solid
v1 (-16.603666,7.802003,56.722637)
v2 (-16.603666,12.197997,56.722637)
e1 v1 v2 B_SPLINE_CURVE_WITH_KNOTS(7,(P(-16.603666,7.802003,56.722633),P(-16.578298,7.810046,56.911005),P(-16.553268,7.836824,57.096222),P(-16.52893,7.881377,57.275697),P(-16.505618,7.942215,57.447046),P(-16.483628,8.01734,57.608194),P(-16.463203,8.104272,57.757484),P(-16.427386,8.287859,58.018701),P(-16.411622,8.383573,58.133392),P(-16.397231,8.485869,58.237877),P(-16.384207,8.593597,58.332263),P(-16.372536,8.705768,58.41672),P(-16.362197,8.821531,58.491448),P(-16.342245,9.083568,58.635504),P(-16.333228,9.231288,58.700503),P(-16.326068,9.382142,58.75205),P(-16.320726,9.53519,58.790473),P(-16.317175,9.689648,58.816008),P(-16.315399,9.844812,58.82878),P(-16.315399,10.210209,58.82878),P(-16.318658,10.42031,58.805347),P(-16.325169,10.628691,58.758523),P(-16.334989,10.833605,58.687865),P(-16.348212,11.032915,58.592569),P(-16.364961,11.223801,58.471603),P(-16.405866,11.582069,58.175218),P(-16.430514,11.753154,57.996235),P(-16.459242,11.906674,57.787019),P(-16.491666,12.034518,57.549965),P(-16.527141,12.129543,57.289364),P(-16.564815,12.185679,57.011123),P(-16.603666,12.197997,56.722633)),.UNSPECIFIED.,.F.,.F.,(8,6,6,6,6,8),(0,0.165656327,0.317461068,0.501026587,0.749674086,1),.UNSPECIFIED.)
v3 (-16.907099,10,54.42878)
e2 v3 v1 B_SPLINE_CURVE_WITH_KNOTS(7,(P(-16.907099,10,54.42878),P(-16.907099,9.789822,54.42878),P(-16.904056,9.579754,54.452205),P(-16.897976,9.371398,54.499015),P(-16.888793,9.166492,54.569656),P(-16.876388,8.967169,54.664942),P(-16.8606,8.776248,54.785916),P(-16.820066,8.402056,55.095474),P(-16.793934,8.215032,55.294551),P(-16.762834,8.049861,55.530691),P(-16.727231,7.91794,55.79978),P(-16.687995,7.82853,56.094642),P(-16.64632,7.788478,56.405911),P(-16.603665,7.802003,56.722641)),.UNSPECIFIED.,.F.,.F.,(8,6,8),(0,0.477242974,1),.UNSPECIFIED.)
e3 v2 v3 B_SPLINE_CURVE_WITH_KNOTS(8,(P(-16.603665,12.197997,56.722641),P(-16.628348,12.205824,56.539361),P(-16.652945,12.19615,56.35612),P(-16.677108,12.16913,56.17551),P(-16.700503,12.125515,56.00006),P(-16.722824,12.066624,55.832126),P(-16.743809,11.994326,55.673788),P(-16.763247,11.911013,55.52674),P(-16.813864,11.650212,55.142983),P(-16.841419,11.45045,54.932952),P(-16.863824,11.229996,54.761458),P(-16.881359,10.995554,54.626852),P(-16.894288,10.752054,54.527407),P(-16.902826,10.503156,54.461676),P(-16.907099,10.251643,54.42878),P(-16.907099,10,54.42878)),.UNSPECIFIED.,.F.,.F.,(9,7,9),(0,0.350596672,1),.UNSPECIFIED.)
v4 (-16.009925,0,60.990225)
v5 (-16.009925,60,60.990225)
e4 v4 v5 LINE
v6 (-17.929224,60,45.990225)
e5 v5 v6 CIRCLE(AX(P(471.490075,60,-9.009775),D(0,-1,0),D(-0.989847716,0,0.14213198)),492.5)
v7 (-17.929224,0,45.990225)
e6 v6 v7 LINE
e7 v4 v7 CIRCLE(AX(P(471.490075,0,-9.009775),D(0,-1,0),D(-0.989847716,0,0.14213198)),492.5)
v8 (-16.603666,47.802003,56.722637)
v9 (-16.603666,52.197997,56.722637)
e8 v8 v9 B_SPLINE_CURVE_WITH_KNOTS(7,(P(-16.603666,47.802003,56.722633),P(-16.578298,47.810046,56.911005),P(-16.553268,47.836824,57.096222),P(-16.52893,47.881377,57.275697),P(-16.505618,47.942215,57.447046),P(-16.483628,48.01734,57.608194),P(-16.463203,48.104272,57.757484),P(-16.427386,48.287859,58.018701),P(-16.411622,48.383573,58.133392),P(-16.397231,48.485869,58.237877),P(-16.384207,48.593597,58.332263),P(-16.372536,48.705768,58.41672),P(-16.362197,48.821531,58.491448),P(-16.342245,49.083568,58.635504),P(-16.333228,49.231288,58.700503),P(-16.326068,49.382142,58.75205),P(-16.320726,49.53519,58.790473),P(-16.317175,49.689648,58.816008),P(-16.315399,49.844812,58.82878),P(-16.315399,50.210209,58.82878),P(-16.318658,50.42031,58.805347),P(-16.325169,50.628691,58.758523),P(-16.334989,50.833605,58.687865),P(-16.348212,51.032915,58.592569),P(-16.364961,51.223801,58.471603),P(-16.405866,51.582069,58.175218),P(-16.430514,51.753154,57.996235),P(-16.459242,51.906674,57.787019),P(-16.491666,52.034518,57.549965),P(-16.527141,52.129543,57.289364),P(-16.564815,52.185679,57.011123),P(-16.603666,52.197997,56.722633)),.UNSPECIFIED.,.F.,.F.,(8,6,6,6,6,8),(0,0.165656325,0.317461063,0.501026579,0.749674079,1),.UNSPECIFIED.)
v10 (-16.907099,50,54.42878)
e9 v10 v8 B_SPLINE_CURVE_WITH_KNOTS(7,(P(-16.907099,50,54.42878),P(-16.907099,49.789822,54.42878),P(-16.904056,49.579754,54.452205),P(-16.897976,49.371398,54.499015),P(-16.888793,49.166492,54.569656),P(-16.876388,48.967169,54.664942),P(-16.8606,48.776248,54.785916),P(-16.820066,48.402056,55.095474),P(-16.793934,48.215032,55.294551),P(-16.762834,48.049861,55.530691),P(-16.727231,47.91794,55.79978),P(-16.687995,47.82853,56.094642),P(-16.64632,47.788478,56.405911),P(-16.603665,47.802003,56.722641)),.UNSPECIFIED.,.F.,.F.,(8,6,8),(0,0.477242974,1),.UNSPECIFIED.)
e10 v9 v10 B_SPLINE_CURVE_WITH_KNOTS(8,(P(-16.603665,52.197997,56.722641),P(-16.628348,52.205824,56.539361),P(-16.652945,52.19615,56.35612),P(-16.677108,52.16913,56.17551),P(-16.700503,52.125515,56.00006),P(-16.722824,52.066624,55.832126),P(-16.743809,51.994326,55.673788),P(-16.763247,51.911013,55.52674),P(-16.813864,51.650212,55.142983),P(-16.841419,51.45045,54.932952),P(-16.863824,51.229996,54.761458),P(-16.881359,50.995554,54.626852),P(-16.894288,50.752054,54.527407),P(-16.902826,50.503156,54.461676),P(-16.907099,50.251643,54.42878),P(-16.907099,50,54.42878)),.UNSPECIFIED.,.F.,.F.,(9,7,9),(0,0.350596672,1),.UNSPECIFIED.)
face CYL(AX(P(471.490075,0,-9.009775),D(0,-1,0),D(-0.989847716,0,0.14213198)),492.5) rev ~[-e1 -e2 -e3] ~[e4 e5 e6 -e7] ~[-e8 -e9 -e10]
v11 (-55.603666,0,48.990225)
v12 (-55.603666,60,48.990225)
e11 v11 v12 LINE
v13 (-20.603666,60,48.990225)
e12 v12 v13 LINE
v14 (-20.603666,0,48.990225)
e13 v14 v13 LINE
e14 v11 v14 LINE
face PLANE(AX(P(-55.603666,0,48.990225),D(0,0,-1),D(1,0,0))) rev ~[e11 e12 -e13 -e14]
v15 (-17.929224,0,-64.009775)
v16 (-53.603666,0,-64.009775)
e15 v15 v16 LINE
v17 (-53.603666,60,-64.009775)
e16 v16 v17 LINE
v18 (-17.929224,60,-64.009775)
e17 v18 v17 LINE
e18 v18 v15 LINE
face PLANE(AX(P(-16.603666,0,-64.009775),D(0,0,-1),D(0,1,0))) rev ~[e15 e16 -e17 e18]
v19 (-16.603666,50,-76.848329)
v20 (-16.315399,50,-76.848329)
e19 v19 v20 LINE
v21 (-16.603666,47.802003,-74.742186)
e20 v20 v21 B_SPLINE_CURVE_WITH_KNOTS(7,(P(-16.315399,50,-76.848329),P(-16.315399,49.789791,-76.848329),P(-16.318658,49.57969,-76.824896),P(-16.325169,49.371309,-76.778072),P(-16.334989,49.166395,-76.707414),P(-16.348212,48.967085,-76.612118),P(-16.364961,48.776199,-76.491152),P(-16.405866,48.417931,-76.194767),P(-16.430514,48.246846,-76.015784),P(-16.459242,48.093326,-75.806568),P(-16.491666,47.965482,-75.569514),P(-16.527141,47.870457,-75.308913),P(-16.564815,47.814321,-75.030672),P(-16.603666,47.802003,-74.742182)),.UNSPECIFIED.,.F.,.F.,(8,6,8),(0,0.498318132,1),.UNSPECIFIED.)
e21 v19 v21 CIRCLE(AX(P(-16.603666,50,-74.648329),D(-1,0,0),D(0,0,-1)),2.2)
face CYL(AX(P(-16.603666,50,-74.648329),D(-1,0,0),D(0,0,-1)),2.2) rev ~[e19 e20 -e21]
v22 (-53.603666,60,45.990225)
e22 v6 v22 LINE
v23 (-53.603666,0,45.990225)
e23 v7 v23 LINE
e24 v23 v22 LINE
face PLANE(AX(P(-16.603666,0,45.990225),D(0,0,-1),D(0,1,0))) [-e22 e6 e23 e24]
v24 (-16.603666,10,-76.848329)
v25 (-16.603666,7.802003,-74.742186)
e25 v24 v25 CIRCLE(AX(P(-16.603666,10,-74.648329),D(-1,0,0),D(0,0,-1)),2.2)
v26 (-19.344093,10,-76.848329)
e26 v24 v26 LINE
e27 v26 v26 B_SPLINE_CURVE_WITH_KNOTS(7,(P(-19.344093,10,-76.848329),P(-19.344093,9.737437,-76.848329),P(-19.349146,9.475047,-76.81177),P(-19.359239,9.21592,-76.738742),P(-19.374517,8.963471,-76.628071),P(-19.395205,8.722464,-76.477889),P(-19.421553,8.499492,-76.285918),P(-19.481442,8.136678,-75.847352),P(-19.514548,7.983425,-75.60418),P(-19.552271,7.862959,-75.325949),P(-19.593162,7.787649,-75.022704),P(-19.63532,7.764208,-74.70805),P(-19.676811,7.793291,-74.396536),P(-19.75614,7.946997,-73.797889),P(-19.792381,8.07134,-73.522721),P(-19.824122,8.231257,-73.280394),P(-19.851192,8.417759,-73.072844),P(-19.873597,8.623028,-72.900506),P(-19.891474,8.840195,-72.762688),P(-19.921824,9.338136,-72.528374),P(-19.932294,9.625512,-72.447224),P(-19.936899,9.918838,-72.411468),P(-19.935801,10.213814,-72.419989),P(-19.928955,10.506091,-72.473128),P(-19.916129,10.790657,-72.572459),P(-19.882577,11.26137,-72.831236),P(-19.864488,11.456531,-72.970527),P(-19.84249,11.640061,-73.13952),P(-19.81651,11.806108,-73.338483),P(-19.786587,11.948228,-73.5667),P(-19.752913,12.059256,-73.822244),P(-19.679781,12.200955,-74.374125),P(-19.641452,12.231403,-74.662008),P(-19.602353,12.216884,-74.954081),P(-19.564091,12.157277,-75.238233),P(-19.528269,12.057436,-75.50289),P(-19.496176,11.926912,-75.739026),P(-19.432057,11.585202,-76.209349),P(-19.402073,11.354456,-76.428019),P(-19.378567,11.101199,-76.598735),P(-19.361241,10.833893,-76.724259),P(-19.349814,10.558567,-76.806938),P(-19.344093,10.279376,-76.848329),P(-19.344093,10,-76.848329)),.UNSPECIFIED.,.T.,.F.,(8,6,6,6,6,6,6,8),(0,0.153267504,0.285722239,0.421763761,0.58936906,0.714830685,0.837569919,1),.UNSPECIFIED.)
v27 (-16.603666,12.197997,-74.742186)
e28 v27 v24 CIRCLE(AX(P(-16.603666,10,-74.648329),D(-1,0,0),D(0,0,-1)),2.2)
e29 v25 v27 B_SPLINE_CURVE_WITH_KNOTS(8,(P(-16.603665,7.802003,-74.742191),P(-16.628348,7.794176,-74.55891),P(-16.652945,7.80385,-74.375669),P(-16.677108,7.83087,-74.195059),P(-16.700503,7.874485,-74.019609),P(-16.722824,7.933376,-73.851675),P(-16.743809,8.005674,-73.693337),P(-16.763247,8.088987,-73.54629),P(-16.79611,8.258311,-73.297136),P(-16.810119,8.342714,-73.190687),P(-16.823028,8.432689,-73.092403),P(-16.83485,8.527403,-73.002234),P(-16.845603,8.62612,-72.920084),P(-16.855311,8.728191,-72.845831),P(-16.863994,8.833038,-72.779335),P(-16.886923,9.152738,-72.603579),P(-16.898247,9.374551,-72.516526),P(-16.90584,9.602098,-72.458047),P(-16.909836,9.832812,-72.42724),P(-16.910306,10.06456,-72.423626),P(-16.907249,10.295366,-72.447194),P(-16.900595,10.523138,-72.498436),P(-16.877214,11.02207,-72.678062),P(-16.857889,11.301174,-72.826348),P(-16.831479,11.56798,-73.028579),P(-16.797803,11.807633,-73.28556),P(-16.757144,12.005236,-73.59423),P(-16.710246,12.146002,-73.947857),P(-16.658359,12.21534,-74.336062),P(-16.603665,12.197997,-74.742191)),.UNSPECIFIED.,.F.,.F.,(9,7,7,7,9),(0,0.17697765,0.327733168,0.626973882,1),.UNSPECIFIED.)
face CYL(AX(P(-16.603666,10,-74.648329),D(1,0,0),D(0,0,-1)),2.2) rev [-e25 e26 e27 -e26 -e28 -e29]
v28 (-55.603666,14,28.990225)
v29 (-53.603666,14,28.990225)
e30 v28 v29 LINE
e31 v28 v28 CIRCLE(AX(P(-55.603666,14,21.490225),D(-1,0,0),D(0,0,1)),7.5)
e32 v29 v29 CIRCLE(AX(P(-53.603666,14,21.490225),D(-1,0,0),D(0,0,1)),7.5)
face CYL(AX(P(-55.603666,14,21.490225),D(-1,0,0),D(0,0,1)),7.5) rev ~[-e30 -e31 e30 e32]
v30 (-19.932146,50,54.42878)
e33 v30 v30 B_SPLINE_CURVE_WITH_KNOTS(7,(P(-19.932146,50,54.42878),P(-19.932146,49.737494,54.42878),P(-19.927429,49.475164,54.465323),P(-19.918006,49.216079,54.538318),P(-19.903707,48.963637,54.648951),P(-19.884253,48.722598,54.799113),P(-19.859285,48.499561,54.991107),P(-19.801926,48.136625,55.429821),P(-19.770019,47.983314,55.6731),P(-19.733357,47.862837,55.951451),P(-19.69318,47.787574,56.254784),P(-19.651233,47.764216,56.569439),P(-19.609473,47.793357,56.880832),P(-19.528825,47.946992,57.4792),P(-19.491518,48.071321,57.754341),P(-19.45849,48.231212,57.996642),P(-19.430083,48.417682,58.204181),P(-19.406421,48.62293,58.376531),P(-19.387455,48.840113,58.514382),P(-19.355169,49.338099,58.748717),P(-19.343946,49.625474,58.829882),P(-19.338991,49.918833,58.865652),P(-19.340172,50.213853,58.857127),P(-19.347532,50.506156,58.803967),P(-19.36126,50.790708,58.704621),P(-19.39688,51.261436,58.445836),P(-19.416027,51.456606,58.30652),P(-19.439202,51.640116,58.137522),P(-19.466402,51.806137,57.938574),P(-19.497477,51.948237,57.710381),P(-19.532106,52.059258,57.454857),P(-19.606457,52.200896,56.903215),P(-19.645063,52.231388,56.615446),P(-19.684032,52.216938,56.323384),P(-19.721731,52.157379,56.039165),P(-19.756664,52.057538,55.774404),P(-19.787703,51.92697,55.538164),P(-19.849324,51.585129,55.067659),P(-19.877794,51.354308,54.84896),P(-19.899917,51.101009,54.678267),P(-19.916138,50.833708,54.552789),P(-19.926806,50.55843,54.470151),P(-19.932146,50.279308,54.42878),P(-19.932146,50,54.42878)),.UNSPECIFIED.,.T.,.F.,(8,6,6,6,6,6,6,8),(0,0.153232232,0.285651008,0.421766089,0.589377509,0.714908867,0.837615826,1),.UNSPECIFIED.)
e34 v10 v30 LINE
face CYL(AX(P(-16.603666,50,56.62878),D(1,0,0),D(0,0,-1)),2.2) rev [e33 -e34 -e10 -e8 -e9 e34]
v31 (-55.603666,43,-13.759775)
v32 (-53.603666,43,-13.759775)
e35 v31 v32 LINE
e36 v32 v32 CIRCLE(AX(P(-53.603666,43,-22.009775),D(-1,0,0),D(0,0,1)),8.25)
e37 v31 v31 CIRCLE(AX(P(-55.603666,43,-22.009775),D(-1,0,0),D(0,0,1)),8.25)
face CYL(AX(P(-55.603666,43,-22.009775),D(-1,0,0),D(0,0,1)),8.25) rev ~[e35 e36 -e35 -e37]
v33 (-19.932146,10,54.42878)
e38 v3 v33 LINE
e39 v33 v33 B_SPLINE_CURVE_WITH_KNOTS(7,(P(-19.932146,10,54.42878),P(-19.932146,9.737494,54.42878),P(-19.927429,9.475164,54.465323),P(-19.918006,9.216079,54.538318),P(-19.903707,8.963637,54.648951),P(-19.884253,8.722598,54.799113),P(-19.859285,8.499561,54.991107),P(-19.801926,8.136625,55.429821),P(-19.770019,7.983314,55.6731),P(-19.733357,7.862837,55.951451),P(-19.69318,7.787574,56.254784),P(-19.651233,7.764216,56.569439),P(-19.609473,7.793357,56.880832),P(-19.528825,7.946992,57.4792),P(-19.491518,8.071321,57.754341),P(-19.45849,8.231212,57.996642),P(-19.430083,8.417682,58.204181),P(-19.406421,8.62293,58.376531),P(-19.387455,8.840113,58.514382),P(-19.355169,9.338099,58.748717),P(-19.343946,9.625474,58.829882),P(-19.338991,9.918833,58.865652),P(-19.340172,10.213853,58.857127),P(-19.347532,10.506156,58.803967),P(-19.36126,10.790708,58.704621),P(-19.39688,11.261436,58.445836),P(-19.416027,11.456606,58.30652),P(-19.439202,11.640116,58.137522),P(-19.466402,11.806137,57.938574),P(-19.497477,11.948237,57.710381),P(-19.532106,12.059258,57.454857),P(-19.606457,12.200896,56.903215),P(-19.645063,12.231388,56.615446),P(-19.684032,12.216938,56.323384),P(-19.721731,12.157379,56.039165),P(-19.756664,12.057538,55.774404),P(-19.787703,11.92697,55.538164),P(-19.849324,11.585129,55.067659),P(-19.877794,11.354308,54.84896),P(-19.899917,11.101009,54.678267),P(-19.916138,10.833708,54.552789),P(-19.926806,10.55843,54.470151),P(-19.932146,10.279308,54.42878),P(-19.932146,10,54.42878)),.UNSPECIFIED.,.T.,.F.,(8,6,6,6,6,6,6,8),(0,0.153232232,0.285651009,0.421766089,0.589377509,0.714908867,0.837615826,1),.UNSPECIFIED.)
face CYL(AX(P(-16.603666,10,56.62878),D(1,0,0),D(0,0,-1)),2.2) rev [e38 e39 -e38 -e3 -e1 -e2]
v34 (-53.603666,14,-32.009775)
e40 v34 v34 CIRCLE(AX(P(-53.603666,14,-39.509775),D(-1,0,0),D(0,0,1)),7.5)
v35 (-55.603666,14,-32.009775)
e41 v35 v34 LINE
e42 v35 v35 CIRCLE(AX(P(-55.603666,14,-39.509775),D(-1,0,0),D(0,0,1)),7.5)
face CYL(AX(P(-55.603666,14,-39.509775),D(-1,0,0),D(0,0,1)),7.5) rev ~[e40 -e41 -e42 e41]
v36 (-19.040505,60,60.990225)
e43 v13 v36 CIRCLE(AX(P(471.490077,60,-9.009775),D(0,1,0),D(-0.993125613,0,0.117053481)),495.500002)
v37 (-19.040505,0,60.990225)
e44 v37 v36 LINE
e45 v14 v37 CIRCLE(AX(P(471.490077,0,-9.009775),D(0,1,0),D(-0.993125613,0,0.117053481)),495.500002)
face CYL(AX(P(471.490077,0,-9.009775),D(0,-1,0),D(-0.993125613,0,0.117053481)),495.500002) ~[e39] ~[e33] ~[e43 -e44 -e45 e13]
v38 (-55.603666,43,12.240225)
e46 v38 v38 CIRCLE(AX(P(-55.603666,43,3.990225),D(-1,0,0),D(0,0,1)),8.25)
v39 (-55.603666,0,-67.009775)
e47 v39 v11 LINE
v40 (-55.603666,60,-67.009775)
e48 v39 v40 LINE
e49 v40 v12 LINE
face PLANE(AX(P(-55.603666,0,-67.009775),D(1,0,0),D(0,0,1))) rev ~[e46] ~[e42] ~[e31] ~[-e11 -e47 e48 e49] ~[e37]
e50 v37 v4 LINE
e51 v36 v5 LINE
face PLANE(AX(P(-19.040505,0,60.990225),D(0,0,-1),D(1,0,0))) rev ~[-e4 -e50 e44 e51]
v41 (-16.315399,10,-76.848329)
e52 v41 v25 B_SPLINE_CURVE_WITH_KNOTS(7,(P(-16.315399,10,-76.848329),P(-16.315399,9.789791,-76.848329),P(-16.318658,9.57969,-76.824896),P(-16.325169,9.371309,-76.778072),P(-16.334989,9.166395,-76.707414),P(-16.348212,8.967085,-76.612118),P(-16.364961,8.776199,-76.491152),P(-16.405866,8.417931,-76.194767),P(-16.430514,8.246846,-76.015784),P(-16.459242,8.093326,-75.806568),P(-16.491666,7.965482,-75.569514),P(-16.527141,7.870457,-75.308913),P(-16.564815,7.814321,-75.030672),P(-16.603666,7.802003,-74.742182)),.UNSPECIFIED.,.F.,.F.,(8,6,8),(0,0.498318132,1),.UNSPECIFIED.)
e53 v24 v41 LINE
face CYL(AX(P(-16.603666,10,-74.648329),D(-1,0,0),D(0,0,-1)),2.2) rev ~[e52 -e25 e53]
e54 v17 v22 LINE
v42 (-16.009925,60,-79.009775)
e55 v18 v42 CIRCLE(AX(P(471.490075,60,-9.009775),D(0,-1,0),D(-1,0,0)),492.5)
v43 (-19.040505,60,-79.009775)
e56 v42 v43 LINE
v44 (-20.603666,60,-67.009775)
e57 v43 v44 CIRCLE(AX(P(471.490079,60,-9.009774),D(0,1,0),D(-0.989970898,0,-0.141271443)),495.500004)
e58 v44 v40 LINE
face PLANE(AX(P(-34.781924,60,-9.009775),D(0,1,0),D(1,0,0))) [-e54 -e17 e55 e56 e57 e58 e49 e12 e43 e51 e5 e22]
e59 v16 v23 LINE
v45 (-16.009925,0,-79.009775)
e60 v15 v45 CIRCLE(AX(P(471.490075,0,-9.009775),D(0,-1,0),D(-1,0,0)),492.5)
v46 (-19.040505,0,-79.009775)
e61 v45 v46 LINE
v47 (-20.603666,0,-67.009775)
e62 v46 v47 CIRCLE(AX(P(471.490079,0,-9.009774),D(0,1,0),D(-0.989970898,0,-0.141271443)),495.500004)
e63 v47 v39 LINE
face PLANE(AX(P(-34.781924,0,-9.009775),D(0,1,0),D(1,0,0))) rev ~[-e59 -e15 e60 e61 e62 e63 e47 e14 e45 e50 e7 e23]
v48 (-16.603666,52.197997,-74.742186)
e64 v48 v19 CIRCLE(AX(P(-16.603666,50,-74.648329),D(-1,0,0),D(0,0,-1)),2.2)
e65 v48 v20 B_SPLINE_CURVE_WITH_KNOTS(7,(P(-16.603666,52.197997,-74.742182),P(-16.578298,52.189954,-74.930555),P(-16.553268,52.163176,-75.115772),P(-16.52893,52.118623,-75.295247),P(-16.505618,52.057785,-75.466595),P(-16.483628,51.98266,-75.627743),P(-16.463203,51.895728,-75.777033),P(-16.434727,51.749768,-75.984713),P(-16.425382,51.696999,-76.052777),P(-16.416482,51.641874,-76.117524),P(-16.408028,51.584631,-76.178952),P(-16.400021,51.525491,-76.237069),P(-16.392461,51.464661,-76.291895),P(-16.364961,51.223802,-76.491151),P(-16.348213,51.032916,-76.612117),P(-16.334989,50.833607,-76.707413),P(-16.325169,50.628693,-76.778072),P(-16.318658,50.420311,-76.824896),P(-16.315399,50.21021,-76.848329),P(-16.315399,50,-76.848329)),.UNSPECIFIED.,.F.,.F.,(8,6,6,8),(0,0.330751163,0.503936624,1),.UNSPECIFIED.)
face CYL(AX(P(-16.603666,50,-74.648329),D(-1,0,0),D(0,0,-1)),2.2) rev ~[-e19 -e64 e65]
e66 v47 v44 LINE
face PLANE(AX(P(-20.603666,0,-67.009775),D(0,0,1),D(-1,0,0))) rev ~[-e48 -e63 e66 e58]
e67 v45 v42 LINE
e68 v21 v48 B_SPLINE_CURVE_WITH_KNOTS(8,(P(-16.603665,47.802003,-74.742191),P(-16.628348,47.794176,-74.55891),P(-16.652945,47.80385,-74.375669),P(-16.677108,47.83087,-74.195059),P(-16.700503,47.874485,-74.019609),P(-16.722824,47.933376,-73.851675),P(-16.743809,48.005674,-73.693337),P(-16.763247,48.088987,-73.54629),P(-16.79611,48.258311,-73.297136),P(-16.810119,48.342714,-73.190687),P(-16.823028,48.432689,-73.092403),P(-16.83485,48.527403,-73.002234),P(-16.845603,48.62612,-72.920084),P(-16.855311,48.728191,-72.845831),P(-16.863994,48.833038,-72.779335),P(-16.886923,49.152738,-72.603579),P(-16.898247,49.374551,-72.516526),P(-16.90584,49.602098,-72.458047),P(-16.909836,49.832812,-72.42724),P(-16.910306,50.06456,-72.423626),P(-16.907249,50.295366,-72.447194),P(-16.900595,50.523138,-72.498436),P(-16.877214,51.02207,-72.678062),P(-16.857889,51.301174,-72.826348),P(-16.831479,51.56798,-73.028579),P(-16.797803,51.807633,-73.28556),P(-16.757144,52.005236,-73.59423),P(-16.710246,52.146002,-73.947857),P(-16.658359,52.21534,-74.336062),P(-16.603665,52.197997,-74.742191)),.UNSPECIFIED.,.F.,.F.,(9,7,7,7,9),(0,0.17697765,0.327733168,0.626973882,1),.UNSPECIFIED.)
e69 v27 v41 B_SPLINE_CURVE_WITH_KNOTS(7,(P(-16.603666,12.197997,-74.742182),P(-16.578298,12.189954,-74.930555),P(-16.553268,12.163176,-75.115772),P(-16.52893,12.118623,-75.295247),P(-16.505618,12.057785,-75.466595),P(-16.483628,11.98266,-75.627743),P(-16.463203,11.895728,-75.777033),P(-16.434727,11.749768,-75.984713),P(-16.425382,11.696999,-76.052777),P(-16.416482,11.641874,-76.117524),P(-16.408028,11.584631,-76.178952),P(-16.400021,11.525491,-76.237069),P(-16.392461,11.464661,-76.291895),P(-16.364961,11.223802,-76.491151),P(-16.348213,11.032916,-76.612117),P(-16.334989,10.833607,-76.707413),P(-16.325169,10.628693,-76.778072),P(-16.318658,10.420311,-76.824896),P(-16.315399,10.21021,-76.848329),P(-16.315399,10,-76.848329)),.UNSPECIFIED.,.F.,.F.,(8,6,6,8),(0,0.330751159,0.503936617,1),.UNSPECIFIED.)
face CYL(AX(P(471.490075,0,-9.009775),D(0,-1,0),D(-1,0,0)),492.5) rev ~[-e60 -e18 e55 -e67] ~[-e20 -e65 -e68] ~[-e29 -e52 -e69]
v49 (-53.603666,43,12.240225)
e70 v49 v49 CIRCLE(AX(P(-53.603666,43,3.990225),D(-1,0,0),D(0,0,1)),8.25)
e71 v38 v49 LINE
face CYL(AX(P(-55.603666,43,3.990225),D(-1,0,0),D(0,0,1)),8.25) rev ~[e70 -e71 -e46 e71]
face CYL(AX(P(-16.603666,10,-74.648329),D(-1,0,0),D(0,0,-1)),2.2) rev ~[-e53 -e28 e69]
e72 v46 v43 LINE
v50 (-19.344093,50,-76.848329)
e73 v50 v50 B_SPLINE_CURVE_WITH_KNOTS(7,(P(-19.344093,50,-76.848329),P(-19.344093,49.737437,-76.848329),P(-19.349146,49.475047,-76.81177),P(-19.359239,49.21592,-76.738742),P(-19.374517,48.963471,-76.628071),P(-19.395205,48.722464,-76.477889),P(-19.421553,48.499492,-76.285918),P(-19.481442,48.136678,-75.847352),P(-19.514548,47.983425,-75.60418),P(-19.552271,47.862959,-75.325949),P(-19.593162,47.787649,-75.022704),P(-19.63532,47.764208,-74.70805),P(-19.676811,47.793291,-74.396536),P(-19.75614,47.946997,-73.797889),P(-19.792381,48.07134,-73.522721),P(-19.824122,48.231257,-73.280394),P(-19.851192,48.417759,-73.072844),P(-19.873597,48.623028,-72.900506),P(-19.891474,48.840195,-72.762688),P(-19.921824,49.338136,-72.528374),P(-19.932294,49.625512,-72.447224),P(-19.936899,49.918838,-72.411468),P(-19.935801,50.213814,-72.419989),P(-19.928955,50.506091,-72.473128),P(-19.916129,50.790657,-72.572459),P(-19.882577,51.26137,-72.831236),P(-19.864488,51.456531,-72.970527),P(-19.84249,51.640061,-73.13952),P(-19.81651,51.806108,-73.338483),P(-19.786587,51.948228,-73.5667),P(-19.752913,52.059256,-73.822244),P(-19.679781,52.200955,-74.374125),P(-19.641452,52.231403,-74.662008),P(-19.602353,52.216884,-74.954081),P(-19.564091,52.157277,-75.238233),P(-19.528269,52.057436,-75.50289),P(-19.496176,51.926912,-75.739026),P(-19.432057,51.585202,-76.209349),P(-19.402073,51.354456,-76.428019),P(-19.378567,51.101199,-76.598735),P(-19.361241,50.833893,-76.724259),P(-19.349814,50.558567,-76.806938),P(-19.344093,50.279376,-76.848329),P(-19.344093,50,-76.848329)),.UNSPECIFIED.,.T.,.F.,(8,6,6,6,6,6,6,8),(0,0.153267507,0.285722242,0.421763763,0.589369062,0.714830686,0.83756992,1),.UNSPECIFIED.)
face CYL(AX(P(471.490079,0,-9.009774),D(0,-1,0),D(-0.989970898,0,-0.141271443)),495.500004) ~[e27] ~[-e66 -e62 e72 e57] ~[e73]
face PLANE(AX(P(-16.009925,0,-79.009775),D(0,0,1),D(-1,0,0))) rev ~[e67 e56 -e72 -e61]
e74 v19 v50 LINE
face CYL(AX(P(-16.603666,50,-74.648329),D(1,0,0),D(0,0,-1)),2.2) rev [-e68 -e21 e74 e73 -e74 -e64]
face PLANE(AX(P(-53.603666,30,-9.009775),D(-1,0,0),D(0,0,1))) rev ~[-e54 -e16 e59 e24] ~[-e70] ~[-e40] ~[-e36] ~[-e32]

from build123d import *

# Parameters (mm, degrees)
EXTRUDE_1_DEPTH     = 60
SKETCH_3_W          = 110
SKETCH_3_H          = 60
CUT_EXTRUDE_1_DEPTH = 37
SKETCH_4_R          = 7.5
SKETCH_4_R_2        = 8.25
CUT_EXTRUDE_2_DEPTH = 5
SKETCH_7_R          = 2.2
CUT_EXTRUDE_3_DEPTH = 20
SKETCH_7_2_R        = 2.2
CUT_EXTRUDE_4_DEPTH = 9


with BuildPart() as part:
    # Sketch 2 → Extrude 1 (new body)
    with BuildSketch(Plane(origin=(0, 0, 0), x_dir=(1, 0, 0), z_dir=(0, 1, 0))):
        with BuildLine():
            Line((-19.040504883, -60.990225421), (-16.009924796, -60.990225421))
            ThreePointArc((-16.009924796, -60.990225421), (-19.758334463, -26.07939754), (-21.009924796, 9.009774579))
            ThreePointArc((-21.009924796, 9.009774579), (-19.758334463, 44.098946698), (-16.009924796, 79.009774579))
            Line((-16.009924796, 79.009774579), (-19.040504883, 79.009774579))
            ThreePointArc((-19.040504883, 79.009774579), (-19.858720594, 73.014546807), (-20.603665866, 67.009774579))
            Line((-20.603665866, 67.009774579), (-55.603665866, 67.009774579))
            Line((-55.603665866, 67.009774579), (-55.603665866, -48.990225421))
            Line((-55.603665866, -48.990225421), (-20.603665866, -48.990225421))
            ThreePointArc((-20.603665866, -48.990225421), (-19.858720594, -54.99499765), (-19.040504883, -60.990225421))
        make_face()
    extrude(amount=EXTRUDE_1_DEPTH)

    # Sketch 3 → Cut-Extrude 1 (cut)
    with BuildSketch(Plane.ZY.offset(16.603665866)):
        with Locations((-9.009774579, 30)):
            Rectangle(SKETCH_3_W, SKETCH_3_H)
    extrude(amount=CUT_EXTRUDE_1_DEPTH, mode=Mode.SUBTRACT)

    # Sketch 4 → Cut-Extrude 2 (cut)
    with BuildSketch(Plane.ZY.offset(55.603665866)):
        with Locations((21.490225421, 14)):
            Circle(SKETCH_4_R)
        with Locations((-39.509774579, 14)):
            Circle(SKETCH_4_R)
        with Locations((3.990225421, 43)):
            Circle(SKETCH_4_R_2)
        with Locations((-22.009774579, 43)):
            Circle(SKETCH_4_R_2)
    extrude(amount=-CUT_EXTRUDE_2_DEPTH, mode=Mode.SUBTRACT)

    # Sketch 7 → Cut-Extrude 3 (cut)
    with BuildSketch(Plane.ZY.offset(16.603665866)):
        with Locations(Location((-74.648328965, 50, 0), (0, 0, 180))):  # turned: the seam where the file's is
            Circle(SKETCH_7_R)
        with Locations(Location((-74.648328965, 10, 0), (0, 0, 180))):  # turned: the seam where the file's is
            Circle(SKETCH_7_R)
        with Locations(Location((56.628779808, 50, 0), (0, 0, 180))):  # turned: the seam where the file's is
            Circle(SKETCH_7_R)
        with Locations(Location((56.628779808, 10, 0), (0, 0, 180))):  # turned: the seam where the file's is
            Circle(SKETCH_7_R)
    extrude(amount=CUT_EXTRUDE_3_DEPTH, mode=Mode.SUBTRACT)

    # Sketch 7_2 → Cut-Extrude 4 (cut)
    with BuildSketch(Plane.ZY.offset(16.603665866)):
        with Locations(Location((-74.648328965, 50, 0), (0, 0, 180))):  # turned: the seam where the file's is
            Circle(SKETCH_7_2_R)
        with Locations(Location((-74.648328965, 10, 0), (0, 0, 180))):  # turned: the seam where the file's is
            Circle(SKETCH_7_2_R)
        with Locations(Location((56.628779808, 50, 0), (0, 0, 180))):  # turned: the seam where the file's is
            Circle(SKETCH_7_2_R)
        with Locations(Location((56.628779808, 10, 0), (0, 0, 180))):  # turned: the seam where the file's is
            Circle(SKETCH_7_2_R)
    extrude(amount=-CUT_EXTRUDE_4_DEPTH, mode=Mode.SUBTRACT)


solid = part.part
